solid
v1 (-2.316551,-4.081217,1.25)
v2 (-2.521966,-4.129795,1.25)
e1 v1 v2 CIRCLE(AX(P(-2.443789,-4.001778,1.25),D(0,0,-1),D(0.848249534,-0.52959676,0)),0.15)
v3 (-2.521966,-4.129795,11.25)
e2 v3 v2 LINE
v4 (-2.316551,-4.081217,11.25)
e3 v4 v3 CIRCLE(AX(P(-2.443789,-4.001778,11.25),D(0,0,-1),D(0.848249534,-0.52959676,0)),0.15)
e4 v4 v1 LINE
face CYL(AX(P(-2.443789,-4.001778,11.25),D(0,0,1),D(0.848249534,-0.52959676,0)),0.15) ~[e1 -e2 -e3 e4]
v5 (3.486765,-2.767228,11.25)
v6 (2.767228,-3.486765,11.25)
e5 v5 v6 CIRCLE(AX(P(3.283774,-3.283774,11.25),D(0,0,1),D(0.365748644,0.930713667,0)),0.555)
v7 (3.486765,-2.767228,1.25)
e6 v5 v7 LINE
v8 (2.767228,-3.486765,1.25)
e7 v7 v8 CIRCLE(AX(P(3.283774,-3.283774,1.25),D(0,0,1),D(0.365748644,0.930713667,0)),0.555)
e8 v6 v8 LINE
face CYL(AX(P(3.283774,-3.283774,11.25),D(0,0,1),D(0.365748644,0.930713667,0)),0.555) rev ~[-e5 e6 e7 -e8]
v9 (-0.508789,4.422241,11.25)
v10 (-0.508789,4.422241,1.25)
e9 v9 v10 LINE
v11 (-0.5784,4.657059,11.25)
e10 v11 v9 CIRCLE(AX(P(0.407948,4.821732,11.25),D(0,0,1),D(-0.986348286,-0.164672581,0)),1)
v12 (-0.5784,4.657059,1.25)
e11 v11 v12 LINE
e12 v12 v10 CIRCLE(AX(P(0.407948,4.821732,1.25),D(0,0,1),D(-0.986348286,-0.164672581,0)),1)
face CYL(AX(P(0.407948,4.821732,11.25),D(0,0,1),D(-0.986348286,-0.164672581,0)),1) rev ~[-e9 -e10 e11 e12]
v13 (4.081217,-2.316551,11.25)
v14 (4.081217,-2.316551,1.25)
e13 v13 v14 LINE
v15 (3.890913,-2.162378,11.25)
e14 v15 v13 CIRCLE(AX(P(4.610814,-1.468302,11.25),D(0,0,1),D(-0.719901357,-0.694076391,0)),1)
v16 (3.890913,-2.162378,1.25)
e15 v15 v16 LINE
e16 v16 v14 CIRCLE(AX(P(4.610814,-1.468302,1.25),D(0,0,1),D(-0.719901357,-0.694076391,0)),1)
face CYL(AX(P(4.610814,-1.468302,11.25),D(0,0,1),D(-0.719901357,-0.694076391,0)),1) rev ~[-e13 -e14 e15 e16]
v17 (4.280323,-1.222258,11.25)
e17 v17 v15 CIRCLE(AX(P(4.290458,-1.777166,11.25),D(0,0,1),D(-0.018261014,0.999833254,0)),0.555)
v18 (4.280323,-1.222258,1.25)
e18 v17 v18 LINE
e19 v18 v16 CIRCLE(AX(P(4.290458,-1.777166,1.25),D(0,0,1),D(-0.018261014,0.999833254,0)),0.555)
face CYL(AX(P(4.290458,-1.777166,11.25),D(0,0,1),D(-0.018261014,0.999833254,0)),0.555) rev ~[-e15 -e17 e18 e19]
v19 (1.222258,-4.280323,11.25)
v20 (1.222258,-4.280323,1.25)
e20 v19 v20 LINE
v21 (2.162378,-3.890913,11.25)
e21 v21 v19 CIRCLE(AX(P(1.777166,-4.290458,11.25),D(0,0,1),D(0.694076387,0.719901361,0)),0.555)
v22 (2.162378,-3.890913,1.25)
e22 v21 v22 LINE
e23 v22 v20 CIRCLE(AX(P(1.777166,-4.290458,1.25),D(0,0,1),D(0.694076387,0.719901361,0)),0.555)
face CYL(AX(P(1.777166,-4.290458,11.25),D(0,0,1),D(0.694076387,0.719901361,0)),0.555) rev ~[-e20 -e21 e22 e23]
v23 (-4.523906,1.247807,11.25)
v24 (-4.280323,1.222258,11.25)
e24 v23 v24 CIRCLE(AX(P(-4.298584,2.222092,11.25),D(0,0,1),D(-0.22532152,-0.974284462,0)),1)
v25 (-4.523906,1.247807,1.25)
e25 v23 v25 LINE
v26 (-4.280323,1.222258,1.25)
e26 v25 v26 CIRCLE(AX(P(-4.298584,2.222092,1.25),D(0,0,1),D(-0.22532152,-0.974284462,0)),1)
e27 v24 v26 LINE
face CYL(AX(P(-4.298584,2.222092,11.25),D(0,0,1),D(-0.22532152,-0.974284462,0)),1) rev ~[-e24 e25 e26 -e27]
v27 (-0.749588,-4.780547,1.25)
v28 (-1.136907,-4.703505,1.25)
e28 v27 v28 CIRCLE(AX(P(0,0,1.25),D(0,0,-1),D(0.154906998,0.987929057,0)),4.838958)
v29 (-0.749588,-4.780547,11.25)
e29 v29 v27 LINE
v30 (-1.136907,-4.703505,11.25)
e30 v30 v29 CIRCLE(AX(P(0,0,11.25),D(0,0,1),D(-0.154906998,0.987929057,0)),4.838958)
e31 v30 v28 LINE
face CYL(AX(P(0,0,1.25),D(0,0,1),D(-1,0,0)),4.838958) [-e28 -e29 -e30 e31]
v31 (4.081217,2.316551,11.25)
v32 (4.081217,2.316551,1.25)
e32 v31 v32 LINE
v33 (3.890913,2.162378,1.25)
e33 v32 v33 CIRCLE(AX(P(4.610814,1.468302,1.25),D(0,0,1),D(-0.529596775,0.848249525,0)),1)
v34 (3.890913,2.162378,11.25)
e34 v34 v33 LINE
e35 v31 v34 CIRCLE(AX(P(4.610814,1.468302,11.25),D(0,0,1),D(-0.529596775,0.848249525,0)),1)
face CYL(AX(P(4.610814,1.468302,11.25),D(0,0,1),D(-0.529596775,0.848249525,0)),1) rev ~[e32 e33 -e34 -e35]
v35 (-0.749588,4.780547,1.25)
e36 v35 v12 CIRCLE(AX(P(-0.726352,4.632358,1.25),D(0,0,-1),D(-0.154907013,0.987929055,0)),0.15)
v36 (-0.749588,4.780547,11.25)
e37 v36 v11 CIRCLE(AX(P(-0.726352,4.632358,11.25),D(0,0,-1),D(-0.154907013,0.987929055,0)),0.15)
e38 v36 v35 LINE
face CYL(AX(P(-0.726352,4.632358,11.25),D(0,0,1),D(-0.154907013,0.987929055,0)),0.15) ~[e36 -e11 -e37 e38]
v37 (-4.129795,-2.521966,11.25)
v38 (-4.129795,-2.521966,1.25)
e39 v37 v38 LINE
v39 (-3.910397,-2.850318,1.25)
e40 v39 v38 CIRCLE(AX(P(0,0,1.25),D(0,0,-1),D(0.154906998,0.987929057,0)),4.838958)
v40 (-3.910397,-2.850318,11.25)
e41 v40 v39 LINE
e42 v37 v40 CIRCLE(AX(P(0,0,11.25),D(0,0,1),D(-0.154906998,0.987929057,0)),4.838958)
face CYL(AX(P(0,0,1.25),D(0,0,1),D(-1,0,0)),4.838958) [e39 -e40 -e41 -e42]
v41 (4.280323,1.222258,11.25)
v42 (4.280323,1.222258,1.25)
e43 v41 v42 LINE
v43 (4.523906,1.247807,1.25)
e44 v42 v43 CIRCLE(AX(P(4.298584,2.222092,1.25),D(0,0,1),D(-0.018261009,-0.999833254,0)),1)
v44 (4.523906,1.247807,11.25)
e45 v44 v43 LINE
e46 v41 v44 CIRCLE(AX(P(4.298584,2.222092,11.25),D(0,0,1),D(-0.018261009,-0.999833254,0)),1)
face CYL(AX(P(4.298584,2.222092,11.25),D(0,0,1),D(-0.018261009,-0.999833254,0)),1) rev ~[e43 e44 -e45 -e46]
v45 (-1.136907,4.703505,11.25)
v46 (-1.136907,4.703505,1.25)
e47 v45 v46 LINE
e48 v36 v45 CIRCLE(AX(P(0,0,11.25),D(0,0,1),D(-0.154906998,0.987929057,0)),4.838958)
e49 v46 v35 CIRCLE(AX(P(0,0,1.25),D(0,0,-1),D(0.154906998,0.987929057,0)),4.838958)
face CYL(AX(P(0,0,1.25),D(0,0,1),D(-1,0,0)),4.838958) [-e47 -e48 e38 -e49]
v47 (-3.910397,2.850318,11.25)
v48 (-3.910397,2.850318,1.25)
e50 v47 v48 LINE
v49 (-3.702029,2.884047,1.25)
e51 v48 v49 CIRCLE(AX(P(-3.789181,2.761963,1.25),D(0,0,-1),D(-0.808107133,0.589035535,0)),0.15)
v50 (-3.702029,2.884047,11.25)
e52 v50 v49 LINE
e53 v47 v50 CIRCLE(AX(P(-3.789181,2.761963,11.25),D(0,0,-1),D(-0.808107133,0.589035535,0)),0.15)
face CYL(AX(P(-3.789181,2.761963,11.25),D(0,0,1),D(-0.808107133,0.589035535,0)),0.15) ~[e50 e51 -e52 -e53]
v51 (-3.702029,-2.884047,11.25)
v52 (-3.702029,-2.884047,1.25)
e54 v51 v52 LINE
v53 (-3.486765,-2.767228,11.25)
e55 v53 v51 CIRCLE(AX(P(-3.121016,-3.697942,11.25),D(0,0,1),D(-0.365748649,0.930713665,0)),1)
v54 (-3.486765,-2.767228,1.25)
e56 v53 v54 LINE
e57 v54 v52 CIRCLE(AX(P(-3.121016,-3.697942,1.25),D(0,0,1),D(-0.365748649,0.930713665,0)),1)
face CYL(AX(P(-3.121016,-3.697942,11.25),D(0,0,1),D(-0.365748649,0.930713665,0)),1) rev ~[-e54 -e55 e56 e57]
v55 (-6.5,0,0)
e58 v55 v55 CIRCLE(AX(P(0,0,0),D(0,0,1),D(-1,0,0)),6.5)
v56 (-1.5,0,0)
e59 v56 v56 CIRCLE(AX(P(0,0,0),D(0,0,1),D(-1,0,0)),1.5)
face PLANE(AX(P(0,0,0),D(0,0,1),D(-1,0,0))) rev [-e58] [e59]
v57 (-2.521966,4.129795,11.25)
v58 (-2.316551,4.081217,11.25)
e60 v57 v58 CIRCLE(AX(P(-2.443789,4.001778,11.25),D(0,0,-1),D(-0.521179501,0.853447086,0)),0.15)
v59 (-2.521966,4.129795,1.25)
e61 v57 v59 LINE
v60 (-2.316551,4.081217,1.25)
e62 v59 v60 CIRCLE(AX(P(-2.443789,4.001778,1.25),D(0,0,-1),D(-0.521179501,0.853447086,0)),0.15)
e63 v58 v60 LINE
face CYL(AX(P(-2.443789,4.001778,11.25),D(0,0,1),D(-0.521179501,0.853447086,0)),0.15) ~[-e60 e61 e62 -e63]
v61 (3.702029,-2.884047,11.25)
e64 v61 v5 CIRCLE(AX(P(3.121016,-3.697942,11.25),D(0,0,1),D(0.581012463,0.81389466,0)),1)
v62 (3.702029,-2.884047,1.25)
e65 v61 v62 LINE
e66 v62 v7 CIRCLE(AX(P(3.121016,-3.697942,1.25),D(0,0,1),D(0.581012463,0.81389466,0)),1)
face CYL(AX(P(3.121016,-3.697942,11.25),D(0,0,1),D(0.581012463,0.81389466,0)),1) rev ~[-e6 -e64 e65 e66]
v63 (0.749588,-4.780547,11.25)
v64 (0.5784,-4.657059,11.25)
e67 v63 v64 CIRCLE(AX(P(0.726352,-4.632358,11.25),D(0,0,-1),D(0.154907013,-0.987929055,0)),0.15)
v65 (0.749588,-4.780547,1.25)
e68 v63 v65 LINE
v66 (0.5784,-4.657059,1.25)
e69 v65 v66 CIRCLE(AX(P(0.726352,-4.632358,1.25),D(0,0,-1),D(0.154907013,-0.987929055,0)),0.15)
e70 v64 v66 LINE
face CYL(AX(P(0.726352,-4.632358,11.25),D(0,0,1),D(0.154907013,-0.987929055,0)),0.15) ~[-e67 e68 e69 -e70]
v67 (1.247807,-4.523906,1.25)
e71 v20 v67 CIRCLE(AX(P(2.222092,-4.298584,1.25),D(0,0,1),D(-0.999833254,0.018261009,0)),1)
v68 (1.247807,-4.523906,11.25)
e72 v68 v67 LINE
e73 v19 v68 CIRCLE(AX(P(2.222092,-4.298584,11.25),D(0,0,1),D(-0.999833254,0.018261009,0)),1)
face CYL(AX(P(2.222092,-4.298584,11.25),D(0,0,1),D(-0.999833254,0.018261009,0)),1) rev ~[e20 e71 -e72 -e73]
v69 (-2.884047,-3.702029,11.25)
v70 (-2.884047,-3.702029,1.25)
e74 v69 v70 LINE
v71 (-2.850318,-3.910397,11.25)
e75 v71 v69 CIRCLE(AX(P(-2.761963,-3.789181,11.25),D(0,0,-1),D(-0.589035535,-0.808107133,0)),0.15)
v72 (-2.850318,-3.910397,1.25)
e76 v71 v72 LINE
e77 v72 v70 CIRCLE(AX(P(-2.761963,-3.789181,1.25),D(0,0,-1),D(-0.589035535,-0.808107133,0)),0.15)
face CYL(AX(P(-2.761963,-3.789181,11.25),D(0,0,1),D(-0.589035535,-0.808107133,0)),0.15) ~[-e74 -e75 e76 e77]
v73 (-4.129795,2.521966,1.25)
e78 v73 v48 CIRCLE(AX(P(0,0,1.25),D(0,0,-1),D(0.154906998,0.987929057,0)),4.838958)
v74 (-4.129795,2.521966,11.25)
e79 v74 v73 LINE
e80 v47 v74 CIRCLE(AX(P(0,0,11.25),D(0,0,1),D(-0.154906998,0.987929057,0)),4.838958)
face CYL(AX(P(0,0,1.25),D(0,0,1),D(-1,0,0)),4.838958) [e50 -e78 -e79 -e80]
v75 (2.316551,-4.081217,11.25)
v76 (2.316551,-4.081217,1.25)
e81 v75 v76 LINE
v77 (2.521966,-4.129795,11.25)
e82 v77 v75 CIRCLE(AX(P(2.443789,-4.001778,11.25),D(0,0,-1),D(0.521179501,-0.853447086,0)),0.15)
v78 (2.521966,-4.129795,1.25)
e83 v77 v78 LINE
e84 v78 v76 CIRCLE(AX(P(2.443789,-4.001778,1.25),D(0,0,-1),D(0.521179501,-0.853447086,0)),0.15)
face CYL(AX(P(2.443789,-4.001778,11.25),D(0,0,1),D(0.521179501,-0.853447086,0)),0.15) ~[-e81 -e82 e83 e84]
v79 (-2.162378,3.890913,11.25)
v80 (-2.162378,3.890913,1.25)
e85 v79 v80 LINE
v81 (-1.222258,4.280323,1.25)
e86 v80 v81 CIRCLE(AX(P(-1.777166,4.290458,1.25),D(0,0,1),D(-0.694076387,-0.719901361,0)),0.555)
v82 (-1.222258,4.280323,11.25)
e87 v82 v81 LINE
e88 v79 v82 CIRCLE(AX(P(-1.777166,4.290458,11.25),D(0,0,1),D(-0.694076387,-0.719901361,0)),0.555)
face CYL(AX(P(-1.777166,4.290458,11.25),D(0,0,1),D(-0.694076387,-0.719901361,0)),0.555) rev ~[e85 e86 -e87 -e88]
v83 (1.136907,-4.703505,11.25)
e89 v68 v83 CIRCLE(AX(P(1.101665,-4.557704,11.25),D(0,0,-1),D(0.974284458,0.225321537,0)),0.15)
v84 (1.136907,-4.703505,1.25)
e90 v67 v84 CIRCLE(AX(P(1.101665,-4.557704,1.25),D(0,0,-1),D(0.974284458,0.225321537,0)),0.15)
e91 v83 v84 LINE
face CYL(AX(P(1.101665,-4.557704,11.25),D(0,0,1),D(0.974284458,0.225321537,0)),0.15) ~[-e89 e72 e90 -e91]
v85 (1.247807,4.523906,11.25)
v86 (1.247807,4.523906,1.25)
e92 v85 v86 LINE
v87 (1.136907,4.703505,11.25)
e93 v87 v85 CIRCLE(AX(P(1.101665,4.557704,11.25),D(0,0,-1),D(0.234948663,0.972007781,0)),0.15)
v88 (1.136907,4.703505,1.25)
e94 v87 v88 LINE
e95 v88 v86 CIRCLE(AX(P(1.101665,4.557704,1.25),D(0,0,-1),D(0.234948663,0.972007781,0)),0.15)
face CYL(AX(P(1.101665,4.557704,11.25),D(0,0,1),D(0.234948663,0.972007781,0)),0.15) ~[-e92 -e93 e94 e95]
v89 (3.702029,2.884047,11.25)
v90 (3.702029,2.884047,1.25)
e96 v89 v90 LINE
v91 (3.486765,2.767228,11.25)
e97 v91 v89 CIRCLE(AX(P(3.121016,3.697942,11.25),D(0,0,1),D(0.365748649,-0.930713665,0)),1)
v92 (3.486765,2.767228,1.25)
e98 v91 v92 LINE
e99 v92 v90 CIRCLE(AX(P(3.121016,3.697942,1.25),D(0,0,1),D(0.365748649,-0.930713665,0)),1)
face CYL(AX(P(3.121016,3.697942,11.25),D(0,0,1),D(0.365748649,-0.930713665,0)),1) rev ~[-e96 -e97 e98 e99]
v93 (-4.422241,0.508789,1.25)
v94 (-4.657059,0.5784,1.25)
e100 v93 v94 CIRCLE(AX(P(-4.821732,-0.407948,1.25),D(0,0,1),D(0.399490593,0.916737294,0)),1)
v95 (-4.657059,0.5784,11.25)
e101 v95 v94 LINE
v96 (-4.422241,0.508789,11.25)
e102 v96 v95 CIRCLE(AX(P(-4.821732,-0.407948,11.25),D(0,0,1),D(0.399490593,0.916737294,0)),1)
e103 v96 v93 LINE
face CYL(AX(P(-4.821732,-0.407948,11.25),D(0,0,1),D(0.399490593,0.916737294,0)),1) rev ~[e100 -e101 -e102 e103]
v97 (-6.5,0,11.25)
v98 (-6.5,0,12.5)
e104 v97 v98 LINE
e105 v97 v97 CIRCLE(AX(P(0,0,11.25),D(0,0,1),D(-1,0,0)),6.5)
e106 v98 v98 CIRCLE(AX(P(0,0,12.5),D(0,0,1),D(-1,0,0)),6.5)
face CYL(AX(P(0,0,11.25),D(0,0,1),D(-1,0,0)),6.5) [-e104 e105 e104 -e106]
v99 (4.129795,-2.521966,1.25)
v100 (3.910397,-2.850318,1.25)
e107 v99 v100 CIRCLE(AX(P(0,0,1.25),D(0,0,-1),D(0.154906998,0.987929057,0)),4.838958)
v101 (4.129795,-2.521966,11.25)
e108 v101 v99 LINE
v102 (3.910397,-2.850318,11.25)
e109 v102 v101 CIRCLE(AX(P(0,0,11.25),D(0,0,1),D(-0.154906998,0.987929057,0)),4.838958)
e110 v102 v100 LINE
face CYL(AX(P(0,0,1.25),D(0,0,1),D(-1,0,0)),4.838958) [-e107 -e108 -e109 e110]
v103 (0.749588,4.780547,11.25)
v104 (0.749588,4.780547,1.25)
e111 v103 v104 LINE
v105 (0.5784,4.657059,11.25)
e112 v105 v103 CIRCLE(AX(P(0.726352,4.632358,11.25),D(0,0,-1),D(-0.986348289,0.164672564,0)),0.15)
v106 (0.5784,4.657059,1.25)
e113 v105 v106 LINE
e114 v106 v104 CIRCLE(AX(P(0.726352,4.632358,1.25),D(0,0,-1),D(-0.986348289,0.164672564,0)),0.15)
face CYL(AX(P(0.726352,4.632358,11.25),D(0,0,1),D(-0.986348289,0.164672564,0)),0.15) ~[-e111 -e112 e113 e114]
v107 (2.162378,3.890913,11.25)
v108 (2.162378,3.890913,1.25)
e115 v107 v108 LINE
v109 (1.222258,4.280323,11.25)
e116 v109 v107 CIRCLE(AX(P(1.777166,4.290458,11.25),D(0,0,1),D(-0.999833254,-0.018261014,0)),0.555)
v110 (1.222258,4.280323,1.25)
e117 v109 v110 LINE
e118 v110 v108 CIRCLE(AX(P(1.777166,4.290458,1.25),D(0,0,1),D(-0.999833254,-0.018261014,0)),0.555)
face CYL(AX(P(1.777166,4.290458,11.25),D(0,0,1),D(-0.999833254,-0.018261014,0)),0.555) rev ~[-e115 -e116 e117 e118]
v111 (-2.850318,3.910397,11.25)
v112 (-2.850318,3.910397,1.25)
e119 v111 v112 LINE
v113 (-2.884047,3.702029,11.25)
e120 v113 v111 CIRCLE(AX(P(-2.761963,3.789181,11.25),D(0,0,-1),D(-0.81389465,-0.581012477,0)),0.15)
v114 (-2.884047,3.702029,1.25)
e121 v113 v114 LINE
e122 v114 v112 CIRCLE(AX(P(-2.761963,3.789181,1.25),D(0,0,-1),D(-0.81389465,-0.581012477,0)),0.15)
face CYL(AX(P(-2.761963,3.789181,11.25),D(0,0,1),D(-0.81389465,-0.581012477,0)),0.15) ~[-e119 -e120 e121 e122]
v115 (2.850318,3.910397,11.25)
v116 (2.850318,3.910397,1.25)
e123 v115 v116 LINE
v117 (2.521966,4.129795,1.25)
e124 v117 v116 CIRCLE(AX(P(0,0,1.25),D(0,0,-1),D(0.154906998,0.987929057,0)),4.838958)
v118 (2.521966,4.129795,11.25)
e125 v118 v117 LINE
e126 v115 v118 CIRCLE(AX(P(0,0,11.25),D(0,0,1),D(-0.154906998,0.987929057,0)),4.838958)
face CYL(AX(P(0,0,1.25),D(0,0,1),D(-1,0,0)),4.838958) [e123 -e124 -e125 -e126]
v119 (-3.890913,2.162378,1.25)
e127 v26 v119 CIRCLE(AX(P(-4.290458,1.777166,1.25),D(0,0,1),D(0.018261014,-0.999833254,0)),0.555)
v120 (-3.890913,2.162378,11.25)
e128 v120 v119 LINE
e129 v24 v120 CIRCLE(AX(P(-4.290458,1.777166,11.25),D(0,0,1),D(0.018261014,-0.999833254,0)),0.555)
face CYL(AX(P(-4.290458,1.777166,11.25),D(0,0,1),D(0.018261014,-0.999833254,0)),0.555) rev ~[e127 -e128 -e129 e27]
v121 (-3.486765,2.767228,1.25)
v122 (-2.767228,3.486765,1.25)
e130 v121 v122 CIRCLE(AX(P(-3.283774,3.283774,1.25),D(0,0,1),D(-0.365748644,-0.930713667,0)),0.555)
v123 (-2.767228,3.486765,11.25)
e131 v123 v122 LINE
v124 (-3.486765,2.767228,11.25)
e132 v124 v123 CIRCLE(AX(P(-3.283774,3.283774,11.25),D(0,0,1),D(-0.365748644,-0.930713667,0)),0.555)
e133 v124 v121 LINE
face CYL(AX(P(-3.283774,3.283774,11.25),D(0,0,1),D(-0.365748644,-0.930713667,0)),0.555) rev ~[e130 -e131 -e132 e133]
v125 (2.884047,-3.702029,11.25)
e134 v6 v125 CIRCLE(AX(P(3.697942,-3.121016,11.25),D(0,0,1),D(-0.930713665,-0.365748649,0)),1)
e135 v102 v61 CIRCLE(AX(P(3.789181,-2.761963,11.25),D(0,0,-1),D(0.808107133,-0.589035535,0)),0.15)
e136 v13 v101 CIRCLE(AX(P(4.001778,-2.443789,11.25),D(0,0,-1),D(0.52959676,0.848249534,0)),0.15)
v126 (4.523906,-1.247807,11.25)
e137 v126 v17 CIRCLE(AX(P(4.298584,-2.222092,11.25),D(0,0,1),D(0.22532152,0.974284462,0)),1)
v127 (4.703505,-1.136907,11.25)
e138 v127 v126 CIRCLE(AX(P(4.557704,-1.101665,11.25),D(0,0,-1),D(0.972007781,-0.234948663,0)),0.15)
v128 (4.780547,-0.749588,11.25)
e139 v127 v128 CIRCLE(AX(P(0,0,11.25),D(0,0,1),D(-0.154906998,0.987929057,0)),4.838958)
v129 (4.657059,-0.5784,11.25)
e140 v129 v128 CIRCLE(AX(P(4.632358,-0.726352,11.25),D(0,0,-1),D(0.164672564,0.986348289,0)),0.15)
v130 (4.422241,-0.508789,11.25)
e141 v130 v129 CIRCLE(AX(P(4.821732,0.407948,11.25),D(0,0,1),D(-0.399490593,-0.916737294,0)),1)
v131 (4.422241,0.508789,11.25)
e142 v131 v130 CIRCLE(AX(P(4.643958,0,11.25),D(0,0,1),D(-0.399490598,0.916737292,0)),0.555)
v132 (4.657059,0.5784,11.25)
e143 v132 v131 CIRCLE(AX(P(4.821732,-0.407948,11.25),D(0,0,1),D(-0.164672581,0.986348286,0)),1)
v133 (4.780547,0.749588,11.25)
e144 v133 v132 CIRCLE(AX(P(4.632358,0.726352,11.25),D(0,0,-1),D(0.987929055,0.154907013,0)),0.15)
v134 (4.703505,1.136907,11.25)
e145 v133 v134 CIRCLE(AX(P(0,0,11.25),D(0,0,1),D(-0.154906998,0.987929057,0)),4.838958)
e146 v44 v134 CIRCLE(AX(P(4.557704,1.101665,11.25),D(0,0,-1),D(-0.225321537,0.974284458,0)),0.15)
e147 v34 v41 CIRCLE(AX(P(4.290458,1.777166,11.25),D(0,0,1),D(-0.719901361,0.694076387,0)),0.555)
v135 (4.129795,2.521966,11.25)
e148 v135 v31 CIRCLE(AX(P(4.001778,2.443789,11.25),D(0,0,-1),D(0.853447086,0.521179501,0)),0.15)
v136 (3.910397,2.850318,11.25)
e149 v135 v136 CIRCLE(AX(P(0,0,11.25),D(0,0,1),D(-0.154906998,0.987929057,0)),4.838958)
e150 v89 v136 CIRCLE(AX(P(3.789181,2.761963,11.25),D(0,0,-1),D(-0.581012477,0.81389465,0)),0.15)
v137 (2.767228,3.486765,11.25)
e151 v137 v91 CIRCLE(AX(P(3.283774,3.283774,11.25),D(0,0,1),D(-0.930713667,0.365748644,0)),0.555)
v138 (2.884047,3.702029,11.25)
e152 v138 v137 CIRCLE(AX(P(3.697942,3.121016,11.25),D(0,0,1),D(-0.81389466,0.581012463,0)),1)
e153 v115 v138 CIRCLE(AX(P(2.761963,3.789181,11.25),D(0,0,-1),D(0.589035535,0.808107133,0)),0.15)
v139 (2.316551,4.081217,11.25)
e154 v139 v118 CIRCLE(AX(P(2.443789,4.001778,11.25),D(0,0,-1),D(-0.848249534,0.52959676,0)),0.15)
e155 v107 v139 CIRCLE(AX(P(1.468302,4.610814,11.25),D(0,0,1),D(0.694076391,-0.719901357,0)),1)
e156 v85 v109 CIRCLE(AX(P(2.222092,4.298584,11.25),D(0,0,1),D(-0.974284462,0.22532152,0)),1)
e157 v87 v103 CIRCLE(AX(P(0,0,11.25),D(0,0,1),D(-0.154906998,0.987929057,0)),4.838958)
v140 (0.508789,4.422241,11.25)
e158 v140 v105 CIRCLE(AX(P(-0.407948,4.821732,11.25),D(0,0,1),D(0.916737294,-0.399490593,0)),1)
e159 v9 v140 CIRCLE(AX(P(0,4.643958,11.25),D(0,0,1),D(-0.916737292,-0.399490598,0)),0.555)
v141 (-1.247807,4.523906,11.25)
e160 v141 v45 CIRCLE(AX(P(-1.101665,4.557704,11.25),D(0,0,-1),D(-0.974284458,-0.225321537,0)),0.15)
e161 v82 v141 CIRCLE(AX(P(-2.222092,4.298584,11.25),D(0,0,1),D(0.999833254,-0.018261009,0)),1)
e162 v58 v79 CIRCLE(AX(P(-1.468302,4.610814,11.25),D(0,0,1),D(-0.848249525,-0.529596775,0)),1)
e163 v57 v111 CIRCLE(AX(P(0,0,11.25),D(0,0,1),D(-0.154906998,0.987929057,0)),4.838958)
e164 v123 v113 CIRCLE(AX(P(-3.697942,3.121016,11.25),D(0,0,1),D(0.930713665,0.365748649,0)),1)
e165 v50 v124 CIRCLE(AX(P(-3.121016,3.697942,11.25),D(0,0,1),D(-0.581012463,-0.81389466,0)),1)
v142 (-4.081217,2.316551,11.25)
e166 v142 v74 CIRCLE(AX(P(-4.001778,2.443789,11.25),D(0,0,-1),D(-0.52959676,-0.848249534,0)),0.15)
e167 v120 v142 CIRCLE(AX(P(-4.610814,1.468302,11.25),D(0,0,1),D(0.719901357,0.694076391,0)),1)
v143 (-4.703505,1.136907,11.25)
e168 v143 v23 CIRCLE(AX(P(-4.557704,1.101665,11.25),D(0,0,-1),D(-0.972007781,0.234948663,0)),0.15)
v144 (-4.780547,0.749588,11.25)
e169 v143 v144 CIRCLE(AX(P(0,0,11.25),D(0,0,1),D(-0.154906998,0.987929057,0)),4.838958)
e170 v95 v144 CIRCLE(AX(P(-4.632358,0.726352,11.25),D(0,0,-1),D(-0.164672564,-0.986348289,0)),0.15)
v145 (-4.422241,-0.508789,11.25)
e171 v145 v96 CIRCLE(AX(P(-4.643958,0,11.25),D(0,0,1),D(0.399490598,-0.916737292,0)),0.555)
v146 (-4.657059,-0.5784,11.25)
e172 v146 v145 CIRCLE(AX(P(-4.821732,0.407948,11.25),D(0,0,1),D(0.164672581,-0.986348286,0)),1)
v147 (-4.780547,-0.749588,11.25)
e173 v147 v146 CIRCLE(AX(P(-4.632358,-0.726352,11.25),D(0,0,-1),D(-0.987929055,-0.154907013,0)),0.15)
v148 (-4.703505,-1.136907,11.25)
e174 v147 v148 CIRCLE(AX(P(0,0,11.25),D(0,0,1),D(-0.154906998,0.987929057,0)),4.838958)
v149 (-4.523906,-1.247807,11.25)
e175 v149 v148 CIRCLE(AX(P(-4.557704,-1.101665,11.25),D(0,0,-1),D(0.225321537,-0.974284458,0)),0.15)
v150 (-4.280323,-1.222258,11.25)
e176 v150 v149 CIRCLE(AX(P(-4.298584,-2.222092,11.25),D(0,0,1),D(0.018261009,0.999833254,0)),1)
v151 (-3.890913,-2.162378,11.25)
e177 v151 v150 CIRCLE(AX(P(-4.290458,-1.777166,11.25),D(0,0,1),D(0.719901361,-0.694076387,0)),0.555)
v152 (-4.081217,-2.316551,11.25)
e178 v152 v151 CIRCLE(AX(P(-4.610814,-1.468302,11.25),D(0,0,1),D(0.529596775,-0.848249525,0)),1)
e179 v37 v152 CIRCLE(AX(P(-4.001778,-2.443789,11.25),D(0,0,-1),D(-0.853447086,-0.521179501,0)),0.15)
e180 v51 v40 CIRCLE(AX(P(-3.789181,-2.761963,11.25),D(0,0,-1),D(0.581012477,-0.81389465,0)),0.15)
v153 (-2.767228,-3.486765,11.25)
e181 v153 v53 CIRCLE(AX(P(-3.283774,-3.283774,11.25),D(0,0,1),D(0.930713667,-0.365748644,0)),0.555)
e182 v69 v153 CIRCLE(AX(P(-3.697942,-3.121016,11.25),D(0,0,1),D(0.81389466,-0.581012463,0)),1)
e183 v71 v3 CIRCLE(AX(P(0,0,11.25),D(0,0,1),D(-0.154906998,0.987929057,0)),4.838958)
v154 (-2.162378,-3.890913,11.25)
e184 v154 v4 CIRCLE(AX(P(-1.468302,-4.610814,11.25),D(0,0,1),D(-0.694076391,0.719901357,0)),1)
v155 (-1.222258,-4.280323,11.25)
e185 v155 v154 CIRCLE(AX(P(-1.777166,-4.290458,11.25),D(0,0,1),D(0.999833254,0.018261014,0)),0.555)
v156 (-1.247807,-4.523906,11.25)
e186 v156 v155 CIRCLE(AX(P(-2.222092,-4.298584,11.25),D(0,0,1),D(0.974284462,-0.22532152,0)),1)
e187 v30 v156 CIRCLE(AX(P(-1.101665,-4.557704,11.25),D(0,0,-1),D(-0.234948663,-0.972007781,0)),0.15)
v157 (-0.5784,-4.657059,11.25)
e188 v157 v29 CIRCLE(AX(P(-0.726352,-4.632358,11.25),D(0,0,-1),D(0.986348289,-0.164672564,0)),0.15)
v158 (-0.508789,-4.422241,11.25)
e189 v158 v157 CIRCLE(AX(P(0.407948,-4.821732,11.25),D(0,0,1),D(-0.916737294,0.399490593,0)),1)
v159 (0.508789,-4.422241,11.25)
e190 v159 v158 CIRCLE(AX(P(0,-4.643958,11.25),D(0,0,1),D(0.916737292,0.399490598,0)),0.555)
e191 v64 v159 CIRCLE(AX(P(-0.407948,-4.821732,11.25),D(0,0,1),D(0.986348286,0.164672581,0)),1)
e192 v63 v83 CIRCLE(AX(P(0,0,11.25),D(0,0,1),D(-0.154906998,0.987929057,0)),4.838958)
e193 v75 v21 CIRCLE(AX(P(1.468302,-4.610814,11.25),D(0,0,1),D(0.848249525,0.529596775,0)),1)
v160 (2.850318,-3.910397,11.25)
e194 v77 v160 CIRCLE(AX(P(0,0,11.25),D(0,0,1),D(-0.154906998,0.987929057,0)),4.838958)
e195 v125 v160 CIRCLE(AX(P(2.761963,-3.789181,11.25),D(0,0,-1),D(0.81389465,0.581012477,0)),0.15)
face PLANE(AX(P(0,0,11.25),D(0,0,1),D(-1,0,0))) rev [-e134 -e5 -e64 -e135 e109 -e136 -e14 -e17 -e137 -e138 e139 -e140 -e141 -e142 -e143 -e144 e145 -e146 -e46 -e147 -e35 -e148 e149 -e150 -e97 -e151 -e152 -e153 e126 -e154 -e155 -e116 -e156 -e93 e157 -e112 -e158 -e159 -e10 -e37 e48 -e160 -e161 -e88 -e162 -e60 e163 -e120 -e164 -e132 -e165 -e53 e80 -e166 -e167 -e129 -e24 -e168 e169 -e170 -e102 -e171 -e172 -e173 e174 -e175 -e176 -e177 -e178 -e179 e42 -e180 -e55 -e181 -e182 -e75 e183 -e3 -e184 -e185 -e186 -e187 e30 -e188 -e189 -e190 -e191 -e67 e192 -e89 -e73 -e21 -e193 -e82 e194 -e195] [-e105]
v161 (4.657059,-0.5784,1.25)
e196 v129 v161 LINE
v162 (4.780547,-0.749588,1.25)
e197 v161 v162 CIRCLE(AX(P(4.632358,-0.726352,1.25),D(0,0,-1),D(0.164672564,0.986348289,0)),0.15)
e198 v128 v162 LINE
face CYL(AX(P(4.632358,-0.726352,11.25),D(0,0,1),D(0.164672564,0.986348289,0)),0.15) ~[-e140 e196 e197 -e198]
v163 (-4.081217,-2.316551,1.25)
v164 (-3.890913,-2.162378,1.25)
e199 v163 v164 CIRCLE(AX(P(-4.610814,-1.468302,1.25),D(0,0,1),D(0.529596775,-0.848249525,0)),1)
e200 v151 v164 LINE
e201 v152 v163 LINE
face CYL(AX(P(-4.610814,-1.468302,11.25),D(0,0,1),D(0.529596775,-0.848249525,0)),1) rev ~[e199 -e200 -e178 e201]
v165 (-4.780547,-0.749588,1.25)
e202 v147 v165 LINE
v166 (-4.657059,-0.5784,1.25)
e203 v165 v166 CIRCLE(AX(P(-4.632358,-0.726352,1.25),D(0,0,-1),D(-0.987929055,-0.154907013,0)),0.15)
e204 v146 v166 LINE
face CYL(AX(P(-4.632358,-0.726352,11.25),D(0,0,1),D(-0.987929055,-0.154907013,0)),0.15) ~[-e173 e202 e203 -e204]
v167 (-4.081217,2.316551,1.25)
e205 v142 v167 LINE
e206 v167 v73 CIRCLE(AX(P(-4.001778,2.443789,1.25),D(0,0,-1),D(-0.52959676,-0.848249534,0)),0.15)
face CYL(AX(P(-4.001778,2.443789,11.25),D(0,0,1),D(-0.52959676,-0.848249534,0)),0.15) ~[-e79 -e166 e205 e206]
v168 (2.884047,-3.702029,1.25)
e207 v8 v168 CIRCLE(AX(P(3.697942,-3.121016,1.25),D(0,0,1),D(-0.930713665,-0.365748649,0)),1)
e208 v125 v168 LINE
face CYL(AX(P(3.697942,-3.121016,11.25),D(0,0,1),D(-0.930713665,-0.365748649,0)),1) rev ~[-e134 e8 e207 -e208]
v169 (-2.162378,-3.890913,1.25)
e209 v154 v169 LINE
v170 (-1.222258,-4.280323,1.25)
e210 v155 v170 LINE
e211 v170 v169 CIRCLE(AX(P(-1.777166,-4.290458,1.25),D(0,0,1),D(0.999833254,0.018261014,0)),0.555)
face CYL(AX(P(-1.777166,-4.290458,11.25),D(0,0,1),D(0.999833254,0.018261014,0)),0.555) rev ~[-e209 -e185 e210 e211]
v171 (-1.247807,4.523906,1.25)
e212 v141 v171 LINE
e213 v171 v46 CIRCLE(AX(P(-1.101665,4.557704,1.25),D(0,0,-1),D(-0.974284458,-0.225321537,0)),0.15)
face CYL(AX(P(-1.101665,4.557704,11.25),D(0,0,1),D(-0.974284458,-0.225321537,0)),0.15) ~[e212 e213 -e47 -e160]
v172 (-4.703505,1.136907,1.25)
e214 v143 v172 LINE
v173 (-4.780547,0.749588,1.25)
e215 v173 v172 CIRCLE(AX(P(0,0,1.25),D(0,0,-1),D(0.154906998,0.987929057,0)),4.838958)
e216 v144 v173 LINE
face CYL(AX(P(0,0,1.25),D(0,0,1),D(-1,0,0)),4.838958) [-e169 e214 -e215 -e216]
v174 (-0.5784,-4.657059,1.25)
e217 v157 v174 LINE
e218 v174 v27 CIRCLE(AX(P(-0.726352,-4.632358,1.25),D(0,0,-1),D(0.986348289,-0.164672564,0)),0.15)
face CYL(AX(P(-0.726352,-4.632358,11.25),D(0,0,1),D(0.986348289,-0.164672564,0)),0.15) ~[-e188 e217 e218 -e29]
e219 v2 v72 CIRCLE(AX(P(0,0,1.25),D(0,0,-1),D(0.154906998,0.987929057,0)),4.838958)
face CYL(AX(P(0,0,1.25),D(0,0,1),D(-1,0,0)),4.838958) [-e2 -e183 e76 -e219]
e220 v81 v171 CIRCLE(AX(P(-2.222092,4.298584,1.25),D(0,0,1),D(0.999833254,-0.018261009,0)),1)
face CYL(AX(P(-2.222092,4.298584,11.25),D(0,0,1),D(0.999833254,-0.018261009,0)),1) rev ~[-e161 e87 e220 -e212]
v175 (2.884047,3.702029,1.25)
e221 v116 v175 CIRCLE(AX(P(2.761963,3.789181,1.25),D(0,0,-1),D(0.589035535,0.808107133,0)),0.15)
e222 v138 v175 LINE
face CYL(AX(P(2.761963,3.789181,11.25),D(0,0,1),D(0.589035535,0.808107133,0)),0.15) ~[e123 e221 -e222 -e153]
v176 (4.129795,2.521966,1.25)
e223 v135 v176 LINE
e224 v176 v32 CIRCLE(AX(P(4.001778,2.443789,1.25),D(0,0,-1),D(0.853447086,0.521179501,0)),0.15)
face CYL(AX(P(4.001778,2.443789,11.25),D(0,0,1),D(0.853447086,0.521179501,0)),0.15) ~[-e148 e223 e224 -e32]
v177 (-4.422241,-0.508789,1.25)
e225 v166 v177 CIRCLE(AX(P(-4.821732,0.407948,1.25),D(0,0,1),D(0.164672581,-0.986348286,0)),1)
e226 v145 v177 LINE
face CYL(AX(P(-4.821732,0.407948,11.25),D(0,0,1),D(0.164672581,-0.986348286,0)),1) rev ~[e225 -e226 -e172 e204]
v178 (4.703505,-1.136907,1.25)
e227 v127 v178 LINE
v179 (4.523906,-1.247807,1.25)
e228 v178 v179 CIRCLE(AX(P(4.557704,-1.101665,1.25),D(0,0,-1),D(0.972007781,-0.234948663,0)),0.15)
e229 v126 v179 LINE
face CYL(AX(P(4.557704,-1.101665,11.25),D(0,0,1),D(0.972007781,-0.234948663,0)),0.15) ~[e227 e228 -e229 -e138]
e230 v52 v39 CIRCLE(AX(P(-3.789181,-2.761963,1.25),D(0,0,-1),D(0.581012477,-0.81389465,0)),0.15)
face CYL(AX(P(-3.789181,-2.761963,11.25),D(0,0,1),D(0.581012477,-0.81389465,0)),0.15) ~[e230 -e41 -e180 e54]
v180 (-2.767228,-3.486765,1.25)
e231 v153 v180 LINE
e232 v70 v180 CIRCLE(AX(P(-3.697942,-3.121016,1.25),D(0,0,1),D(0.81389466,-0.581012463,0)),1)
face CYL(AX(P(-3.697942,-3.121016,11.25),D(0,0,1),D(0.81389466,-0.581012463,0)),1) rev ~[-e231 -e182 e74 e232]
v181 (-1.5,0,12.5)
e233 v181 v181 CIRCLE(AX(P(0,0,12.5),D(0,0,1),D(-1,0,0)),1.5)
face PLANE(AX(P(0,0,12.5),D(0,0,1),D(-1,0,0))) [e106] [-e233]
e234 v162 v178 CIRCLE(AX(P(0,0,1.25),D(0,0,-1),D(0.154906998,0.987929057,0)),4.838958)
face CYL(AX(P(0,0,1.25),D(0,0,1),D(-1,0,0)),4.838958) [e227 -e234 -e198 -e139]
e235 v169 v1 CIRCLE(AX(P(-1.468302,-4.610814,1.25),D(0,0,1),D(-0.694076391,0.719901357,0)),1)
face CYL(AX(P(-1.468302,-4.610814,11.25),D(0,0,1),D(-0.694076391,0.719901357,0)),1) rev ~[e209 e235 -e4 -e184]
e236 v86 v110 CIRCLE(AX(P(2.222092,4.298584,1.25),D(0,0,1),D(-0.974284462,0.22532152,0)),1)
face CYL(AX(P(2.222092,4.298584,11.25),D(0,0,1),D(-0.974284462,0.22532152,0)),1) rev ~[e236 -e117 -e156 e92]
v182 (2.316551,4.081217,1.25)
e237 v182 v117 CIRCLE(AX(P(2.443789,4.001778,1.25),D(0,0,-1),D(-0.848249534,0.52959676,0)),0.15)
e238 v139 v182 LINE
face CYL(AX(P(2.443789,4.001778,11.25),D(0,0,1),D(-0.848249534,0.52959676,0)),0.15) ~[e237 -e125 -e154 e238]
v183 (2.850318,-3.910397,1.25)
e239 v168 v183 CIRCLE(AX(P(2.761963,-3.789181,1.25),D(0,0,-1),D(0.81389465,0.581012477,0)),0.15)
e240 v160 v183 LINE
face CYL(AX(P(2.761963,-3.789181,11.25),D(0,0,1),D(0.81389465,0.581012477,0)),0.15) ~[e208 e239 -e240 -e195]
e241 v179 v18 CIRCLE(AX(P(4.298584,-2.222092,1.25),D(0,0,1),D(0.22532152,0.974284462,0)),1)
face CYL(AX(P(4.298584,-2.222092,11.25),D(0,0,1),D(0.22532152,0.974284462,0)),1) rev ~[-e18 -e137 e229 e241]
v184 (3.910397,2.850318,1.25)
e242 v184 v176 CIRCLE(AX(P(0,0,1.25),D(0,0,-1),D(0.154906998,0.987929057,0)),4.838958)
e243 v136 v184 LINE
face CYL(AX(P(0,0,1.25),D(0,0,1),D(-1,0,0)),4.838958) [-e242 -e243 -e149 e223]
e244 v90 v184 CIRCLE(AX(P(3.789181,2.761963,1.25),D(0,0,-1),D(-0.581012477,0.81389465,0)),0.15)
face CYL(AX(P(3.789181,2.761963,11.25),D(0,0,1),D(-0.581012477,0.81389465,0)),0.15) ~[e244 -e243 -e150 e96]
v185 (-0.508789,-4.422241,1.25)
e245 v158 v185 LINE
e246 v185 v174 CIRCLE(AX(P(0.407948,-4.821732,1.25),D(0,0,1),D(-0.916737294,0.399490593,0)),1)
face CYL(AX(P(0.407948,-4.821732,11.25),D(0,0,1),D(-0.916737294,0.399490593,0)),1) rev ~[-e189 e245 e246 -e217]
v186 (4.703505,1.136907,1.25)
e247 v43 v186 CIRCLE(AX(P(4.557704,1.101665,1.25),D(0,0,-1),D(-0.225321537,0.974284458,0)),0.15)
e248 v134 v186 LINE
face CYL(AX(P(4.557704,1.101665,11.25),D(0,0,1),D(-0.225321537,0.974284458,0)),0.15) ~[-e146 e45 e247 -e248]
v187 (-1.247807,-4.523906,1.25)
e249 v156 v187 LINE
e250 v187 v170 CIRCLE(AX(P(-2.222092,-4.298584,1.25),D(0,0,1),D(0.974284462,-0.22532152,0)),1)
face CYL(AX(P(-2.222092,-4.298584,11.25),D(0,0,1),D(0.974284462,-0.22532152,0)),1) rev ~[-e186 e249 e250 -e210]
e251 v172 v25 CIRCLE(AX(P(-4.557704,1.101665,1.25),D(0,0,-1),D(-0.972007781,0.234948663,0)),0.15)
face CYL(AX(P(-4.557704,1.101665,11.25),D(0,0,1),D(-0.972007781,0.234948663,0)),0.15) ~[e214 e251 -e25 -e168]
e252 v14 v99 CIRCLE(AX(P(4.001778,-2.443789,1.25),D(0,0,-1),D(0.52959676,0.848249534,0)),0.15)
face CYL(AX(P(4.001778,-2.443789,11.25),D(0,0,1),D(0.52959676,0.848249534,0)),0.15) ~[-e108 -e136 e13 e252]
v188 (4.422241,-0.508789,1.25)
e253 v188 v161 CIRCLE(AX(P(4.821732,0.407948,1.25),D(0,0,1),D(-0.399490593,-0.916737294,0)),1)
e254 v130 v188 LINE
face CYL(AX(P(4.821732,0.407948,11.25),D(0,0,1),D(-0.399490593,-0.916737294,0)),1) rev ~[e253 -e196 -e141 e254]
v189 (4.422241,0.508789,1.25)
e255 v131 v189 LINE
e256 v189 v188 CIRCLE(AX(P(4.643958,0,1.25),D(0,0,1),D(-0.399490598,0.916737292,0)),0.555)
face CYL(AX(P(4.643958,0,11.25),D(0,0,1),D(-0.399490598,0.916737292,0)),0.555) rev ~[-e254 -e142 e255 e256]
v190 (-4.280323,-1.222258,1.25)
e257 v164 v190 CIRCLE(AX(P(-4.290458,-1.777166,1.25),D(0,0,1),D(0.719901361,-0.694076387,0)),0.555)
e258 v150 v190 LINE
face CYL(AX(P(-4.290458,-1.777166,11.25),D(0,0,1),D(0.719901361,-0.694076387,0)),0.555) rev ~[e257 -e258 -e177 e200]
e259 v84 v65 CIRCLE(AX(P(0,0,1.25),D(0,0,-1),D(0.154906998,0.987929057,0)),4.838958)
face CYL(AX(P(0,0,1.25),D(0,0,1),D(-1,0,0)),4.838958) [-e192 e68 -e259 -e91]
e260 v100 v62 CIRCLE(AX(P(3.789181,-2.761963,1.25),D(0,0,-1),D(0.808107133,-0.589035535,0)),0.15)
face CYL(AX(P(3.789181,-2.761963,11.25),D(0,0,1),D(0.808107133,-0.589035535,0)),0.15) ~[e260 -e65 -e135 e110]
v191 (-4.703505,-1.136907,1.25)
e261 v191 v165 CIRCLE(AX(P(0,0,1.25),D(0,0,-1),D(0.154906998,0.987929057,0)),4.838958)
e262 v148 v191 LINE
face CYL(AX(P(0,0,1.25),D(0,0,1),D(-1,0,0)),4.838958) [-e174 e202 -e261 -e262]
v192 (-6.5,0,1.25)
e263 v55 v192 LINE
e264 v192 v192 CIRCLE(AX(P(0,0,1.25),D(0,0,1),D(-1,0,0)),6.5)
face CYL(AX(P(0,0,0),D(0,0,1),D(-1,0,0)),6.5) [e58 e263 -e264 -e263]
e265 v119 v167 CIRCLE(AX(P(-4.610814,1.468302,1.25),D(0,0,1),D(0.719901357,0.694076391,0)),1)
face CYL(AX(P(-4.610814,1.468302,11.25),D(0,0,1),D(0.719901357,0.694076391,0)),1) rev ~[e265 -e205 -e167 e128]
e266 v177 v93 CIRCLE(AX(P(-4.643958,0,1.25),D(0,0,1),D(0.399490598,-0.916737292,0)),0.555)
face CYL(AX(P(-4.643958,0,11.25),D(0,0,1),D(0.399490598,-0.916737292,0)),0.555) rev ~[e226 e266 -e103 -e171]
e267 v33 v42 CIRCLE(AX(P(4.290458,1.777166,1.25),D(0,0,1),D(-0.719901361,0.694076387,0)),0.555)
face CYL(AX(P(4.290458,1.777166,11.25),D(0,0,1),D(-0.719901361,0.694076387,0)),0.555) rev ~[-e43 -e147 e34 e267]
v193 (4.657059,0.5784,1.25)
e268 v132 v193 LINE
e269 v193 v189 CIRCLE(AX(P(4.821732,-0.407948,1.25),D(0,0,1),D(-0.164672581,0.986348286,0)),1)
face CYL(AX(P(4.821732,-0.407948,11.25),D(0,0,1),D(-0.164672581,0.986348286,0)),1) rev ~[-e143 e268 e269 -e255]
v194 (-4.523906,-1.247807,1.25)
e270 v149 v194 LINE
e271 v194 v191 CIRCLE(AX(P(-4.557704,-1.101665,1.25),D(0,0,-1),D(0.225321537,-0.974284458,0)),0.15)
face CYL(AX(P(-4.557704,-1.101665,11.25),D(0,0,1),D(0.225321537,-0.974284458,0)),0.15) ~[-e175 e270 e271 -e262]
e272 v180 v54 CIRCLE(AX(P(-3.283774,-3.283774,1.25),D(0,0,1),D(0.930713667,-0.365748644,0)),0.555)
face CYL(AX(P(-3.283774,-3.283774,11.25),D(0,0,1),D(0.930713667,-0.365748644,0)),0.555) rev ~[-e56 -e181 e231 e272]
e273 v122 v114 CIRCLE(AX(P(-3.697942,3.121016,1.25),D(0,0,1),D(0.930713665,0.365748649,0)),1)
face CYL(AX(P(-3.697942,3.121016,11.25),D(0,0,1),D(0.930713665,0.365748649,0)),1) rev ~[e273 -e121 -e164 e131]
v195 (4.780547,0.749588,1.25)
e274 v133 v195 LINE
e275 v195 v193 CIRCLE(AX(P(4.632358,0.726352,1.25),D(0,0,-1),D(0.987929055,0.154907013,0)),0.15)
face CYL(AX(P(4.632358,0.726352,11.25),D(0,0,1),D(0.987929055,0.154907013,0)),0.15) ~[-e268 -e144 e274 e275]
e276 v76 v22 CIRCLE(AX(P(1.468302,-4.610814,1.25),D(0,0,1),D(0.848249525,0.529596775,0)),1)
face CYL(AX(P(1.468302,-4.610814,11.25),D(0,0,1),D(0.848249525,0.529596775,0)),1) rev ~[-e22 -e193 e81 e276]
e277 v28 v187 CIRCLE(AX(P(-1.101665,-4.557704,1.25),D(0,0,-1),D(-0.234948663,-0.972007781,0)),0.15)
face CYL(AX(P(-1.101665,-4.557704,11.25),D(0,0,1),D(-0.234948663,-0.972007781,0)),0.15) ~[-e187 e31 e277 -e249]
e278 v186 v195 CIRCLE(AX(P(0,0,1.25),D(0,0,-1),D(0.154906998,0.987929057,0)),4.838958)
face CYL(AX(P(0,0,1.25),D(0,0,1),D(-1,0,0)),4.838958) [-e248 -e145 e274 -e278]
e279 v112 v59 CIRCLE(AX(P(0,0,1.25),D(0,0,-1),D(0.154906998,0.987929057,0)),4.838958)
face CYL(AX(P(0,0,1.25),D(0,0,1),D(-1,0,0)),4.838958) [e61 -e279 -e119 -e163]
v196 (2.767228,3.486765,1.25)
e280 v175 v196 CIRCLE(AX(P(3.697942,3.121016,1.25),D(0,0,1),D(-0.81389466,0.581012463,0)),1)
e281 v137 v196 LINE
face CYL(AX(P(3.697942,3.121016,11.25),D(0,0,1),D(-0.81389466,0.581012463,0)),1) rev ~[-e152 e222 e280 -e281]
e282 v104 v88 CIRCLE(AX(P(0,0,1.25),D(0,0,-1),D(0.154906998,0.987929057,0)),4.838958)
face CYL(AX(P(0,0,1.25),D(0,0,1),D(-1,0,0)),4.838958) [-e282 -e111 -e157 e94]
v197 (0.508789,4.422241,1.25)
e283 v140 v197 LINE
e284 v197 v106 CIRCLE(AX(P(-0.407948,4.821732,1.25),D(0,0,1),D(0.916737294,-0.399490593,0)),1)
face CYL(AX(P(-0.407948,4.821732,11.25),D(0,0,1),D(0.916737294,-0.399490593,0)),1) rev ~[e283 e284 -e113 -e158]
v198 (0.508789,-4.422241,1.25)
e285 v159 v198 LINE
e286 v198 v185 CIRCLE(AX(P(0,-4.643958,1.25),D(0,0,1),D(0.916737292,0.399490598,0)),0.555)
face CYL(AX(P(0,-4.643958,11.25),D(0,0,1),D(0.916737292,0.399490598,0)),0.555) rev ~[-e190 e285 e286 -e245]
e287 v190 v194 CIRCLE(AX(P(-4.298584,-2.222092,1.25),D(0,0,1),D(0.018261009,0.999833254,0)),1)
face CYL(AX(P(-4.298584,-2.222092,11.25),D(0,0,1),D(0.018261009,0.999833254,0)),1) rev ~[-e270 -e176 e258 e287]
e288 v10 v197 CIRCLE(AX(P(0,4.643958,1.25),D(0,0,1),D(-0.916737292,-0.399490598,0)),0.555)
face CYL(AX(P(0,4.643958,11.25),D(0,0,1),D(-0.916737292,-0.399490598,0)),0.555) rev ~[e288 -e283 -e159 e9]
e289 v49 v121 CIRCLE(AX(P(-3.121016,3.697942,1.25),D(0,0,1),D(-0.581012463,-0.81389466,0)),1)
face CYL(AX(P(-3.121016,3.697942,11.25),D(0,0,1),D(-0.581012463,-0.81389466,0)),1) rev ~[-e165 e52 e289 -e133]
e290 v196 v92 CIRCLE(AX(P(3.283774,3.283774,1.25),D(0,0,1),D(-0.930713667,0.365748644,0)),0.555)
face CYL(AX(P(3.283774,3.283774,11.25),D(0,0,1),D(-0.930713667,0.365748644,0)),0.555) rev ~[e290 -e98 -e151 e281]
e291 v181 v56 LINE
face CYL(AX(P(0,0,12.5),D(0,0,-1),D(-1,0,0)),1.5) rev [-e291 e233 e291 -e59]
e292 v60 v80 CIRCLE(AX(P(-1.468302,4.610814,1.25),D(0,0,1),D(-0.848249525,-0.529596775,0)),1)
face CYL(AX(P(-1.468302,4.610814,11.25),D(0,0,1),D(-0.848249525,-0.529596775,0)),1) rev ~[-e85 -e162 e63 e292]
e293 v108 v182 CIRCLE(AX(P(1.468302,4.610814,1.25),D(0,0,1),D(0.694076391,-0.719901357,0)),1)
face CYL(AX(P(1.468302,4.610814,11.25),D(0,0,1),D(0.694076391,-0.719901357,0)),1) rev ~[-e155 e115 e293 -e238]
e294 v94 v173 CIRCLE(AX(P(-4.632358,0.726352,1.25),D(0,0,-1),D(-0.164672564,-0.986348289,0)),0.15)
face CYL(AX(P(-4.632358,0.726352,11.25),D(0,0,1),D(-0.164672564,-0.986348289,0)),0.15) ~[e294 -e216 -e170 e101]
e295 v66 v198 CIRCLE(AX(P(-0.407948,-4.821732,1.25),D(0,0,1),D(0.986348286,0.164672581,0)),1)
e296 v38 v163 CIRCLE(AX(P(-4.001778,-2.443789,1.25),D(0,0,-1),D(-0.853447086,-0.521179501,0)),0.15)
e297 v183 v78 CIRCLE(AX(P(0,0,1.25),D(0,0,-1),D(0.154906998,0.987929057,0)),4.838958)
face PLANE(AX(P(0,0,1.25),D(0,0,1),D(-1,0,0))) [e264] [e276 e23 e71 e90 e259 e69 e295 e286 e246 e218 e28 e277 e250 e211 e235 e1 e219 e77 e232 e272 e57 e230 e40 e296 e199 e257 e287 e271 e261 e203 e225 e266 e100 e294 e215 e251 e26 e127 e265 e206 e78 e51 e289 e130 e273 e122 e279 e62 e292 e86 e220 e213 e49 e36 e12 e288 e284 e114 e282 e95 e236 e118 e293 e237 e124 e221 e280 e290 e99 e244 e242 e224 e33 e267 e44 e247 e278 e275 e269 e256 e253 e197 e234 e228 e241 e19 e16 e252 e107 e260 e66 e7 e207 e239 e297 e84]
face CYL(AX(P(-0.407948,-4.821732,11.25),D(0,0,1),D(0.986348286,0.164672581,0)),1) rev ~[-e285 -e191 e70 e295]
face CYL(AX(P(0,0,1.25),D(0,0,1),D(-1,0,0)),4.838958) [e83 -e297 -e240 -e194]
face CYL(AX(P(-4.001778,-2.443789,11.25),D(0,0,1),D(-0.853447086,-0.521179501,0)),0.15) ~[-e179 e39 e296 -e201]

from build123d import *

# Parameters (mm, degrees)
CUT_EXTRUDE1_START = 10
CUT_EXTRUDE1_DEPTH = 10
CIRPATTERN1_COUNT  = 16


with BuildPart() as part:
    # Sketch1 → Revolve1 (revolve)
    with BuildSketch(Plane(origin=(0, 0, 0), x_dir=(-1, 0, 0), z_dir=(0, 1, 0))):
        Polygon((1.5, 12.5), (1.5, 0), (6.5, 0), (6.5, 1.25), (4.838958179, 1.25), (4.838958179, 11.25), (6.5, 11.25), (6.5, 12.5), align=None)
    revolve(axis=Axis((0, 0, 0), (0, 0, 1)))

    # Sketch2 → Cut-Extrude1 (cut)
    with BuildSketch(Plane.XY.offset(1.25).offset(CUT_EXTRUDE1_START)):
        with BuildLine():
            ThreePointArc((-0.749588485, 4.780547391), (-0.63859776, 4.754009655), (-0.578400192, 4.657058919))
            ThreePointArc((-0.578400192, 4.657058919), (-0.550810767, 4.537510728), (-0.508789197, 4.422240897))
            ThreePointArc((-0.508789197, 4.422240897), (0, 4.088958179), (0.508789197, 4.422240897))
            ThreePointArc((0.508789197, 4.422240897), (0.550810767, 4.537510728), (0.578400192, 4.657058919))
            ThreePointArc((0.578400192, 4.657058919), (0.63859776, 4.754009655), (0.749588485, 4.780547391))
            ThreePointArc((0.749588485, 4.780547391), (0, 4.838958179), (-0.749588485, 4.780547391))
        make_face()
    cut_extrude1 = extrude(amount=-CUT_EXTRUDE1_DEPTH, mode=Mode.SUBTRACT)

    # CirPattern1: Cut-Extrude1 ×16 about axis
    cirpattern1_axis = Axis((0, 0, 0), (0, 0, 1))
    for i in range(1, CIRPATTERN1_COUNT):
        add(cut_extrude1.rotate(cirpattern1_axis, i * 360 / CIRPATTERN1_COUNT), mode=Mode.SUBTRACT)


solid = part.part
